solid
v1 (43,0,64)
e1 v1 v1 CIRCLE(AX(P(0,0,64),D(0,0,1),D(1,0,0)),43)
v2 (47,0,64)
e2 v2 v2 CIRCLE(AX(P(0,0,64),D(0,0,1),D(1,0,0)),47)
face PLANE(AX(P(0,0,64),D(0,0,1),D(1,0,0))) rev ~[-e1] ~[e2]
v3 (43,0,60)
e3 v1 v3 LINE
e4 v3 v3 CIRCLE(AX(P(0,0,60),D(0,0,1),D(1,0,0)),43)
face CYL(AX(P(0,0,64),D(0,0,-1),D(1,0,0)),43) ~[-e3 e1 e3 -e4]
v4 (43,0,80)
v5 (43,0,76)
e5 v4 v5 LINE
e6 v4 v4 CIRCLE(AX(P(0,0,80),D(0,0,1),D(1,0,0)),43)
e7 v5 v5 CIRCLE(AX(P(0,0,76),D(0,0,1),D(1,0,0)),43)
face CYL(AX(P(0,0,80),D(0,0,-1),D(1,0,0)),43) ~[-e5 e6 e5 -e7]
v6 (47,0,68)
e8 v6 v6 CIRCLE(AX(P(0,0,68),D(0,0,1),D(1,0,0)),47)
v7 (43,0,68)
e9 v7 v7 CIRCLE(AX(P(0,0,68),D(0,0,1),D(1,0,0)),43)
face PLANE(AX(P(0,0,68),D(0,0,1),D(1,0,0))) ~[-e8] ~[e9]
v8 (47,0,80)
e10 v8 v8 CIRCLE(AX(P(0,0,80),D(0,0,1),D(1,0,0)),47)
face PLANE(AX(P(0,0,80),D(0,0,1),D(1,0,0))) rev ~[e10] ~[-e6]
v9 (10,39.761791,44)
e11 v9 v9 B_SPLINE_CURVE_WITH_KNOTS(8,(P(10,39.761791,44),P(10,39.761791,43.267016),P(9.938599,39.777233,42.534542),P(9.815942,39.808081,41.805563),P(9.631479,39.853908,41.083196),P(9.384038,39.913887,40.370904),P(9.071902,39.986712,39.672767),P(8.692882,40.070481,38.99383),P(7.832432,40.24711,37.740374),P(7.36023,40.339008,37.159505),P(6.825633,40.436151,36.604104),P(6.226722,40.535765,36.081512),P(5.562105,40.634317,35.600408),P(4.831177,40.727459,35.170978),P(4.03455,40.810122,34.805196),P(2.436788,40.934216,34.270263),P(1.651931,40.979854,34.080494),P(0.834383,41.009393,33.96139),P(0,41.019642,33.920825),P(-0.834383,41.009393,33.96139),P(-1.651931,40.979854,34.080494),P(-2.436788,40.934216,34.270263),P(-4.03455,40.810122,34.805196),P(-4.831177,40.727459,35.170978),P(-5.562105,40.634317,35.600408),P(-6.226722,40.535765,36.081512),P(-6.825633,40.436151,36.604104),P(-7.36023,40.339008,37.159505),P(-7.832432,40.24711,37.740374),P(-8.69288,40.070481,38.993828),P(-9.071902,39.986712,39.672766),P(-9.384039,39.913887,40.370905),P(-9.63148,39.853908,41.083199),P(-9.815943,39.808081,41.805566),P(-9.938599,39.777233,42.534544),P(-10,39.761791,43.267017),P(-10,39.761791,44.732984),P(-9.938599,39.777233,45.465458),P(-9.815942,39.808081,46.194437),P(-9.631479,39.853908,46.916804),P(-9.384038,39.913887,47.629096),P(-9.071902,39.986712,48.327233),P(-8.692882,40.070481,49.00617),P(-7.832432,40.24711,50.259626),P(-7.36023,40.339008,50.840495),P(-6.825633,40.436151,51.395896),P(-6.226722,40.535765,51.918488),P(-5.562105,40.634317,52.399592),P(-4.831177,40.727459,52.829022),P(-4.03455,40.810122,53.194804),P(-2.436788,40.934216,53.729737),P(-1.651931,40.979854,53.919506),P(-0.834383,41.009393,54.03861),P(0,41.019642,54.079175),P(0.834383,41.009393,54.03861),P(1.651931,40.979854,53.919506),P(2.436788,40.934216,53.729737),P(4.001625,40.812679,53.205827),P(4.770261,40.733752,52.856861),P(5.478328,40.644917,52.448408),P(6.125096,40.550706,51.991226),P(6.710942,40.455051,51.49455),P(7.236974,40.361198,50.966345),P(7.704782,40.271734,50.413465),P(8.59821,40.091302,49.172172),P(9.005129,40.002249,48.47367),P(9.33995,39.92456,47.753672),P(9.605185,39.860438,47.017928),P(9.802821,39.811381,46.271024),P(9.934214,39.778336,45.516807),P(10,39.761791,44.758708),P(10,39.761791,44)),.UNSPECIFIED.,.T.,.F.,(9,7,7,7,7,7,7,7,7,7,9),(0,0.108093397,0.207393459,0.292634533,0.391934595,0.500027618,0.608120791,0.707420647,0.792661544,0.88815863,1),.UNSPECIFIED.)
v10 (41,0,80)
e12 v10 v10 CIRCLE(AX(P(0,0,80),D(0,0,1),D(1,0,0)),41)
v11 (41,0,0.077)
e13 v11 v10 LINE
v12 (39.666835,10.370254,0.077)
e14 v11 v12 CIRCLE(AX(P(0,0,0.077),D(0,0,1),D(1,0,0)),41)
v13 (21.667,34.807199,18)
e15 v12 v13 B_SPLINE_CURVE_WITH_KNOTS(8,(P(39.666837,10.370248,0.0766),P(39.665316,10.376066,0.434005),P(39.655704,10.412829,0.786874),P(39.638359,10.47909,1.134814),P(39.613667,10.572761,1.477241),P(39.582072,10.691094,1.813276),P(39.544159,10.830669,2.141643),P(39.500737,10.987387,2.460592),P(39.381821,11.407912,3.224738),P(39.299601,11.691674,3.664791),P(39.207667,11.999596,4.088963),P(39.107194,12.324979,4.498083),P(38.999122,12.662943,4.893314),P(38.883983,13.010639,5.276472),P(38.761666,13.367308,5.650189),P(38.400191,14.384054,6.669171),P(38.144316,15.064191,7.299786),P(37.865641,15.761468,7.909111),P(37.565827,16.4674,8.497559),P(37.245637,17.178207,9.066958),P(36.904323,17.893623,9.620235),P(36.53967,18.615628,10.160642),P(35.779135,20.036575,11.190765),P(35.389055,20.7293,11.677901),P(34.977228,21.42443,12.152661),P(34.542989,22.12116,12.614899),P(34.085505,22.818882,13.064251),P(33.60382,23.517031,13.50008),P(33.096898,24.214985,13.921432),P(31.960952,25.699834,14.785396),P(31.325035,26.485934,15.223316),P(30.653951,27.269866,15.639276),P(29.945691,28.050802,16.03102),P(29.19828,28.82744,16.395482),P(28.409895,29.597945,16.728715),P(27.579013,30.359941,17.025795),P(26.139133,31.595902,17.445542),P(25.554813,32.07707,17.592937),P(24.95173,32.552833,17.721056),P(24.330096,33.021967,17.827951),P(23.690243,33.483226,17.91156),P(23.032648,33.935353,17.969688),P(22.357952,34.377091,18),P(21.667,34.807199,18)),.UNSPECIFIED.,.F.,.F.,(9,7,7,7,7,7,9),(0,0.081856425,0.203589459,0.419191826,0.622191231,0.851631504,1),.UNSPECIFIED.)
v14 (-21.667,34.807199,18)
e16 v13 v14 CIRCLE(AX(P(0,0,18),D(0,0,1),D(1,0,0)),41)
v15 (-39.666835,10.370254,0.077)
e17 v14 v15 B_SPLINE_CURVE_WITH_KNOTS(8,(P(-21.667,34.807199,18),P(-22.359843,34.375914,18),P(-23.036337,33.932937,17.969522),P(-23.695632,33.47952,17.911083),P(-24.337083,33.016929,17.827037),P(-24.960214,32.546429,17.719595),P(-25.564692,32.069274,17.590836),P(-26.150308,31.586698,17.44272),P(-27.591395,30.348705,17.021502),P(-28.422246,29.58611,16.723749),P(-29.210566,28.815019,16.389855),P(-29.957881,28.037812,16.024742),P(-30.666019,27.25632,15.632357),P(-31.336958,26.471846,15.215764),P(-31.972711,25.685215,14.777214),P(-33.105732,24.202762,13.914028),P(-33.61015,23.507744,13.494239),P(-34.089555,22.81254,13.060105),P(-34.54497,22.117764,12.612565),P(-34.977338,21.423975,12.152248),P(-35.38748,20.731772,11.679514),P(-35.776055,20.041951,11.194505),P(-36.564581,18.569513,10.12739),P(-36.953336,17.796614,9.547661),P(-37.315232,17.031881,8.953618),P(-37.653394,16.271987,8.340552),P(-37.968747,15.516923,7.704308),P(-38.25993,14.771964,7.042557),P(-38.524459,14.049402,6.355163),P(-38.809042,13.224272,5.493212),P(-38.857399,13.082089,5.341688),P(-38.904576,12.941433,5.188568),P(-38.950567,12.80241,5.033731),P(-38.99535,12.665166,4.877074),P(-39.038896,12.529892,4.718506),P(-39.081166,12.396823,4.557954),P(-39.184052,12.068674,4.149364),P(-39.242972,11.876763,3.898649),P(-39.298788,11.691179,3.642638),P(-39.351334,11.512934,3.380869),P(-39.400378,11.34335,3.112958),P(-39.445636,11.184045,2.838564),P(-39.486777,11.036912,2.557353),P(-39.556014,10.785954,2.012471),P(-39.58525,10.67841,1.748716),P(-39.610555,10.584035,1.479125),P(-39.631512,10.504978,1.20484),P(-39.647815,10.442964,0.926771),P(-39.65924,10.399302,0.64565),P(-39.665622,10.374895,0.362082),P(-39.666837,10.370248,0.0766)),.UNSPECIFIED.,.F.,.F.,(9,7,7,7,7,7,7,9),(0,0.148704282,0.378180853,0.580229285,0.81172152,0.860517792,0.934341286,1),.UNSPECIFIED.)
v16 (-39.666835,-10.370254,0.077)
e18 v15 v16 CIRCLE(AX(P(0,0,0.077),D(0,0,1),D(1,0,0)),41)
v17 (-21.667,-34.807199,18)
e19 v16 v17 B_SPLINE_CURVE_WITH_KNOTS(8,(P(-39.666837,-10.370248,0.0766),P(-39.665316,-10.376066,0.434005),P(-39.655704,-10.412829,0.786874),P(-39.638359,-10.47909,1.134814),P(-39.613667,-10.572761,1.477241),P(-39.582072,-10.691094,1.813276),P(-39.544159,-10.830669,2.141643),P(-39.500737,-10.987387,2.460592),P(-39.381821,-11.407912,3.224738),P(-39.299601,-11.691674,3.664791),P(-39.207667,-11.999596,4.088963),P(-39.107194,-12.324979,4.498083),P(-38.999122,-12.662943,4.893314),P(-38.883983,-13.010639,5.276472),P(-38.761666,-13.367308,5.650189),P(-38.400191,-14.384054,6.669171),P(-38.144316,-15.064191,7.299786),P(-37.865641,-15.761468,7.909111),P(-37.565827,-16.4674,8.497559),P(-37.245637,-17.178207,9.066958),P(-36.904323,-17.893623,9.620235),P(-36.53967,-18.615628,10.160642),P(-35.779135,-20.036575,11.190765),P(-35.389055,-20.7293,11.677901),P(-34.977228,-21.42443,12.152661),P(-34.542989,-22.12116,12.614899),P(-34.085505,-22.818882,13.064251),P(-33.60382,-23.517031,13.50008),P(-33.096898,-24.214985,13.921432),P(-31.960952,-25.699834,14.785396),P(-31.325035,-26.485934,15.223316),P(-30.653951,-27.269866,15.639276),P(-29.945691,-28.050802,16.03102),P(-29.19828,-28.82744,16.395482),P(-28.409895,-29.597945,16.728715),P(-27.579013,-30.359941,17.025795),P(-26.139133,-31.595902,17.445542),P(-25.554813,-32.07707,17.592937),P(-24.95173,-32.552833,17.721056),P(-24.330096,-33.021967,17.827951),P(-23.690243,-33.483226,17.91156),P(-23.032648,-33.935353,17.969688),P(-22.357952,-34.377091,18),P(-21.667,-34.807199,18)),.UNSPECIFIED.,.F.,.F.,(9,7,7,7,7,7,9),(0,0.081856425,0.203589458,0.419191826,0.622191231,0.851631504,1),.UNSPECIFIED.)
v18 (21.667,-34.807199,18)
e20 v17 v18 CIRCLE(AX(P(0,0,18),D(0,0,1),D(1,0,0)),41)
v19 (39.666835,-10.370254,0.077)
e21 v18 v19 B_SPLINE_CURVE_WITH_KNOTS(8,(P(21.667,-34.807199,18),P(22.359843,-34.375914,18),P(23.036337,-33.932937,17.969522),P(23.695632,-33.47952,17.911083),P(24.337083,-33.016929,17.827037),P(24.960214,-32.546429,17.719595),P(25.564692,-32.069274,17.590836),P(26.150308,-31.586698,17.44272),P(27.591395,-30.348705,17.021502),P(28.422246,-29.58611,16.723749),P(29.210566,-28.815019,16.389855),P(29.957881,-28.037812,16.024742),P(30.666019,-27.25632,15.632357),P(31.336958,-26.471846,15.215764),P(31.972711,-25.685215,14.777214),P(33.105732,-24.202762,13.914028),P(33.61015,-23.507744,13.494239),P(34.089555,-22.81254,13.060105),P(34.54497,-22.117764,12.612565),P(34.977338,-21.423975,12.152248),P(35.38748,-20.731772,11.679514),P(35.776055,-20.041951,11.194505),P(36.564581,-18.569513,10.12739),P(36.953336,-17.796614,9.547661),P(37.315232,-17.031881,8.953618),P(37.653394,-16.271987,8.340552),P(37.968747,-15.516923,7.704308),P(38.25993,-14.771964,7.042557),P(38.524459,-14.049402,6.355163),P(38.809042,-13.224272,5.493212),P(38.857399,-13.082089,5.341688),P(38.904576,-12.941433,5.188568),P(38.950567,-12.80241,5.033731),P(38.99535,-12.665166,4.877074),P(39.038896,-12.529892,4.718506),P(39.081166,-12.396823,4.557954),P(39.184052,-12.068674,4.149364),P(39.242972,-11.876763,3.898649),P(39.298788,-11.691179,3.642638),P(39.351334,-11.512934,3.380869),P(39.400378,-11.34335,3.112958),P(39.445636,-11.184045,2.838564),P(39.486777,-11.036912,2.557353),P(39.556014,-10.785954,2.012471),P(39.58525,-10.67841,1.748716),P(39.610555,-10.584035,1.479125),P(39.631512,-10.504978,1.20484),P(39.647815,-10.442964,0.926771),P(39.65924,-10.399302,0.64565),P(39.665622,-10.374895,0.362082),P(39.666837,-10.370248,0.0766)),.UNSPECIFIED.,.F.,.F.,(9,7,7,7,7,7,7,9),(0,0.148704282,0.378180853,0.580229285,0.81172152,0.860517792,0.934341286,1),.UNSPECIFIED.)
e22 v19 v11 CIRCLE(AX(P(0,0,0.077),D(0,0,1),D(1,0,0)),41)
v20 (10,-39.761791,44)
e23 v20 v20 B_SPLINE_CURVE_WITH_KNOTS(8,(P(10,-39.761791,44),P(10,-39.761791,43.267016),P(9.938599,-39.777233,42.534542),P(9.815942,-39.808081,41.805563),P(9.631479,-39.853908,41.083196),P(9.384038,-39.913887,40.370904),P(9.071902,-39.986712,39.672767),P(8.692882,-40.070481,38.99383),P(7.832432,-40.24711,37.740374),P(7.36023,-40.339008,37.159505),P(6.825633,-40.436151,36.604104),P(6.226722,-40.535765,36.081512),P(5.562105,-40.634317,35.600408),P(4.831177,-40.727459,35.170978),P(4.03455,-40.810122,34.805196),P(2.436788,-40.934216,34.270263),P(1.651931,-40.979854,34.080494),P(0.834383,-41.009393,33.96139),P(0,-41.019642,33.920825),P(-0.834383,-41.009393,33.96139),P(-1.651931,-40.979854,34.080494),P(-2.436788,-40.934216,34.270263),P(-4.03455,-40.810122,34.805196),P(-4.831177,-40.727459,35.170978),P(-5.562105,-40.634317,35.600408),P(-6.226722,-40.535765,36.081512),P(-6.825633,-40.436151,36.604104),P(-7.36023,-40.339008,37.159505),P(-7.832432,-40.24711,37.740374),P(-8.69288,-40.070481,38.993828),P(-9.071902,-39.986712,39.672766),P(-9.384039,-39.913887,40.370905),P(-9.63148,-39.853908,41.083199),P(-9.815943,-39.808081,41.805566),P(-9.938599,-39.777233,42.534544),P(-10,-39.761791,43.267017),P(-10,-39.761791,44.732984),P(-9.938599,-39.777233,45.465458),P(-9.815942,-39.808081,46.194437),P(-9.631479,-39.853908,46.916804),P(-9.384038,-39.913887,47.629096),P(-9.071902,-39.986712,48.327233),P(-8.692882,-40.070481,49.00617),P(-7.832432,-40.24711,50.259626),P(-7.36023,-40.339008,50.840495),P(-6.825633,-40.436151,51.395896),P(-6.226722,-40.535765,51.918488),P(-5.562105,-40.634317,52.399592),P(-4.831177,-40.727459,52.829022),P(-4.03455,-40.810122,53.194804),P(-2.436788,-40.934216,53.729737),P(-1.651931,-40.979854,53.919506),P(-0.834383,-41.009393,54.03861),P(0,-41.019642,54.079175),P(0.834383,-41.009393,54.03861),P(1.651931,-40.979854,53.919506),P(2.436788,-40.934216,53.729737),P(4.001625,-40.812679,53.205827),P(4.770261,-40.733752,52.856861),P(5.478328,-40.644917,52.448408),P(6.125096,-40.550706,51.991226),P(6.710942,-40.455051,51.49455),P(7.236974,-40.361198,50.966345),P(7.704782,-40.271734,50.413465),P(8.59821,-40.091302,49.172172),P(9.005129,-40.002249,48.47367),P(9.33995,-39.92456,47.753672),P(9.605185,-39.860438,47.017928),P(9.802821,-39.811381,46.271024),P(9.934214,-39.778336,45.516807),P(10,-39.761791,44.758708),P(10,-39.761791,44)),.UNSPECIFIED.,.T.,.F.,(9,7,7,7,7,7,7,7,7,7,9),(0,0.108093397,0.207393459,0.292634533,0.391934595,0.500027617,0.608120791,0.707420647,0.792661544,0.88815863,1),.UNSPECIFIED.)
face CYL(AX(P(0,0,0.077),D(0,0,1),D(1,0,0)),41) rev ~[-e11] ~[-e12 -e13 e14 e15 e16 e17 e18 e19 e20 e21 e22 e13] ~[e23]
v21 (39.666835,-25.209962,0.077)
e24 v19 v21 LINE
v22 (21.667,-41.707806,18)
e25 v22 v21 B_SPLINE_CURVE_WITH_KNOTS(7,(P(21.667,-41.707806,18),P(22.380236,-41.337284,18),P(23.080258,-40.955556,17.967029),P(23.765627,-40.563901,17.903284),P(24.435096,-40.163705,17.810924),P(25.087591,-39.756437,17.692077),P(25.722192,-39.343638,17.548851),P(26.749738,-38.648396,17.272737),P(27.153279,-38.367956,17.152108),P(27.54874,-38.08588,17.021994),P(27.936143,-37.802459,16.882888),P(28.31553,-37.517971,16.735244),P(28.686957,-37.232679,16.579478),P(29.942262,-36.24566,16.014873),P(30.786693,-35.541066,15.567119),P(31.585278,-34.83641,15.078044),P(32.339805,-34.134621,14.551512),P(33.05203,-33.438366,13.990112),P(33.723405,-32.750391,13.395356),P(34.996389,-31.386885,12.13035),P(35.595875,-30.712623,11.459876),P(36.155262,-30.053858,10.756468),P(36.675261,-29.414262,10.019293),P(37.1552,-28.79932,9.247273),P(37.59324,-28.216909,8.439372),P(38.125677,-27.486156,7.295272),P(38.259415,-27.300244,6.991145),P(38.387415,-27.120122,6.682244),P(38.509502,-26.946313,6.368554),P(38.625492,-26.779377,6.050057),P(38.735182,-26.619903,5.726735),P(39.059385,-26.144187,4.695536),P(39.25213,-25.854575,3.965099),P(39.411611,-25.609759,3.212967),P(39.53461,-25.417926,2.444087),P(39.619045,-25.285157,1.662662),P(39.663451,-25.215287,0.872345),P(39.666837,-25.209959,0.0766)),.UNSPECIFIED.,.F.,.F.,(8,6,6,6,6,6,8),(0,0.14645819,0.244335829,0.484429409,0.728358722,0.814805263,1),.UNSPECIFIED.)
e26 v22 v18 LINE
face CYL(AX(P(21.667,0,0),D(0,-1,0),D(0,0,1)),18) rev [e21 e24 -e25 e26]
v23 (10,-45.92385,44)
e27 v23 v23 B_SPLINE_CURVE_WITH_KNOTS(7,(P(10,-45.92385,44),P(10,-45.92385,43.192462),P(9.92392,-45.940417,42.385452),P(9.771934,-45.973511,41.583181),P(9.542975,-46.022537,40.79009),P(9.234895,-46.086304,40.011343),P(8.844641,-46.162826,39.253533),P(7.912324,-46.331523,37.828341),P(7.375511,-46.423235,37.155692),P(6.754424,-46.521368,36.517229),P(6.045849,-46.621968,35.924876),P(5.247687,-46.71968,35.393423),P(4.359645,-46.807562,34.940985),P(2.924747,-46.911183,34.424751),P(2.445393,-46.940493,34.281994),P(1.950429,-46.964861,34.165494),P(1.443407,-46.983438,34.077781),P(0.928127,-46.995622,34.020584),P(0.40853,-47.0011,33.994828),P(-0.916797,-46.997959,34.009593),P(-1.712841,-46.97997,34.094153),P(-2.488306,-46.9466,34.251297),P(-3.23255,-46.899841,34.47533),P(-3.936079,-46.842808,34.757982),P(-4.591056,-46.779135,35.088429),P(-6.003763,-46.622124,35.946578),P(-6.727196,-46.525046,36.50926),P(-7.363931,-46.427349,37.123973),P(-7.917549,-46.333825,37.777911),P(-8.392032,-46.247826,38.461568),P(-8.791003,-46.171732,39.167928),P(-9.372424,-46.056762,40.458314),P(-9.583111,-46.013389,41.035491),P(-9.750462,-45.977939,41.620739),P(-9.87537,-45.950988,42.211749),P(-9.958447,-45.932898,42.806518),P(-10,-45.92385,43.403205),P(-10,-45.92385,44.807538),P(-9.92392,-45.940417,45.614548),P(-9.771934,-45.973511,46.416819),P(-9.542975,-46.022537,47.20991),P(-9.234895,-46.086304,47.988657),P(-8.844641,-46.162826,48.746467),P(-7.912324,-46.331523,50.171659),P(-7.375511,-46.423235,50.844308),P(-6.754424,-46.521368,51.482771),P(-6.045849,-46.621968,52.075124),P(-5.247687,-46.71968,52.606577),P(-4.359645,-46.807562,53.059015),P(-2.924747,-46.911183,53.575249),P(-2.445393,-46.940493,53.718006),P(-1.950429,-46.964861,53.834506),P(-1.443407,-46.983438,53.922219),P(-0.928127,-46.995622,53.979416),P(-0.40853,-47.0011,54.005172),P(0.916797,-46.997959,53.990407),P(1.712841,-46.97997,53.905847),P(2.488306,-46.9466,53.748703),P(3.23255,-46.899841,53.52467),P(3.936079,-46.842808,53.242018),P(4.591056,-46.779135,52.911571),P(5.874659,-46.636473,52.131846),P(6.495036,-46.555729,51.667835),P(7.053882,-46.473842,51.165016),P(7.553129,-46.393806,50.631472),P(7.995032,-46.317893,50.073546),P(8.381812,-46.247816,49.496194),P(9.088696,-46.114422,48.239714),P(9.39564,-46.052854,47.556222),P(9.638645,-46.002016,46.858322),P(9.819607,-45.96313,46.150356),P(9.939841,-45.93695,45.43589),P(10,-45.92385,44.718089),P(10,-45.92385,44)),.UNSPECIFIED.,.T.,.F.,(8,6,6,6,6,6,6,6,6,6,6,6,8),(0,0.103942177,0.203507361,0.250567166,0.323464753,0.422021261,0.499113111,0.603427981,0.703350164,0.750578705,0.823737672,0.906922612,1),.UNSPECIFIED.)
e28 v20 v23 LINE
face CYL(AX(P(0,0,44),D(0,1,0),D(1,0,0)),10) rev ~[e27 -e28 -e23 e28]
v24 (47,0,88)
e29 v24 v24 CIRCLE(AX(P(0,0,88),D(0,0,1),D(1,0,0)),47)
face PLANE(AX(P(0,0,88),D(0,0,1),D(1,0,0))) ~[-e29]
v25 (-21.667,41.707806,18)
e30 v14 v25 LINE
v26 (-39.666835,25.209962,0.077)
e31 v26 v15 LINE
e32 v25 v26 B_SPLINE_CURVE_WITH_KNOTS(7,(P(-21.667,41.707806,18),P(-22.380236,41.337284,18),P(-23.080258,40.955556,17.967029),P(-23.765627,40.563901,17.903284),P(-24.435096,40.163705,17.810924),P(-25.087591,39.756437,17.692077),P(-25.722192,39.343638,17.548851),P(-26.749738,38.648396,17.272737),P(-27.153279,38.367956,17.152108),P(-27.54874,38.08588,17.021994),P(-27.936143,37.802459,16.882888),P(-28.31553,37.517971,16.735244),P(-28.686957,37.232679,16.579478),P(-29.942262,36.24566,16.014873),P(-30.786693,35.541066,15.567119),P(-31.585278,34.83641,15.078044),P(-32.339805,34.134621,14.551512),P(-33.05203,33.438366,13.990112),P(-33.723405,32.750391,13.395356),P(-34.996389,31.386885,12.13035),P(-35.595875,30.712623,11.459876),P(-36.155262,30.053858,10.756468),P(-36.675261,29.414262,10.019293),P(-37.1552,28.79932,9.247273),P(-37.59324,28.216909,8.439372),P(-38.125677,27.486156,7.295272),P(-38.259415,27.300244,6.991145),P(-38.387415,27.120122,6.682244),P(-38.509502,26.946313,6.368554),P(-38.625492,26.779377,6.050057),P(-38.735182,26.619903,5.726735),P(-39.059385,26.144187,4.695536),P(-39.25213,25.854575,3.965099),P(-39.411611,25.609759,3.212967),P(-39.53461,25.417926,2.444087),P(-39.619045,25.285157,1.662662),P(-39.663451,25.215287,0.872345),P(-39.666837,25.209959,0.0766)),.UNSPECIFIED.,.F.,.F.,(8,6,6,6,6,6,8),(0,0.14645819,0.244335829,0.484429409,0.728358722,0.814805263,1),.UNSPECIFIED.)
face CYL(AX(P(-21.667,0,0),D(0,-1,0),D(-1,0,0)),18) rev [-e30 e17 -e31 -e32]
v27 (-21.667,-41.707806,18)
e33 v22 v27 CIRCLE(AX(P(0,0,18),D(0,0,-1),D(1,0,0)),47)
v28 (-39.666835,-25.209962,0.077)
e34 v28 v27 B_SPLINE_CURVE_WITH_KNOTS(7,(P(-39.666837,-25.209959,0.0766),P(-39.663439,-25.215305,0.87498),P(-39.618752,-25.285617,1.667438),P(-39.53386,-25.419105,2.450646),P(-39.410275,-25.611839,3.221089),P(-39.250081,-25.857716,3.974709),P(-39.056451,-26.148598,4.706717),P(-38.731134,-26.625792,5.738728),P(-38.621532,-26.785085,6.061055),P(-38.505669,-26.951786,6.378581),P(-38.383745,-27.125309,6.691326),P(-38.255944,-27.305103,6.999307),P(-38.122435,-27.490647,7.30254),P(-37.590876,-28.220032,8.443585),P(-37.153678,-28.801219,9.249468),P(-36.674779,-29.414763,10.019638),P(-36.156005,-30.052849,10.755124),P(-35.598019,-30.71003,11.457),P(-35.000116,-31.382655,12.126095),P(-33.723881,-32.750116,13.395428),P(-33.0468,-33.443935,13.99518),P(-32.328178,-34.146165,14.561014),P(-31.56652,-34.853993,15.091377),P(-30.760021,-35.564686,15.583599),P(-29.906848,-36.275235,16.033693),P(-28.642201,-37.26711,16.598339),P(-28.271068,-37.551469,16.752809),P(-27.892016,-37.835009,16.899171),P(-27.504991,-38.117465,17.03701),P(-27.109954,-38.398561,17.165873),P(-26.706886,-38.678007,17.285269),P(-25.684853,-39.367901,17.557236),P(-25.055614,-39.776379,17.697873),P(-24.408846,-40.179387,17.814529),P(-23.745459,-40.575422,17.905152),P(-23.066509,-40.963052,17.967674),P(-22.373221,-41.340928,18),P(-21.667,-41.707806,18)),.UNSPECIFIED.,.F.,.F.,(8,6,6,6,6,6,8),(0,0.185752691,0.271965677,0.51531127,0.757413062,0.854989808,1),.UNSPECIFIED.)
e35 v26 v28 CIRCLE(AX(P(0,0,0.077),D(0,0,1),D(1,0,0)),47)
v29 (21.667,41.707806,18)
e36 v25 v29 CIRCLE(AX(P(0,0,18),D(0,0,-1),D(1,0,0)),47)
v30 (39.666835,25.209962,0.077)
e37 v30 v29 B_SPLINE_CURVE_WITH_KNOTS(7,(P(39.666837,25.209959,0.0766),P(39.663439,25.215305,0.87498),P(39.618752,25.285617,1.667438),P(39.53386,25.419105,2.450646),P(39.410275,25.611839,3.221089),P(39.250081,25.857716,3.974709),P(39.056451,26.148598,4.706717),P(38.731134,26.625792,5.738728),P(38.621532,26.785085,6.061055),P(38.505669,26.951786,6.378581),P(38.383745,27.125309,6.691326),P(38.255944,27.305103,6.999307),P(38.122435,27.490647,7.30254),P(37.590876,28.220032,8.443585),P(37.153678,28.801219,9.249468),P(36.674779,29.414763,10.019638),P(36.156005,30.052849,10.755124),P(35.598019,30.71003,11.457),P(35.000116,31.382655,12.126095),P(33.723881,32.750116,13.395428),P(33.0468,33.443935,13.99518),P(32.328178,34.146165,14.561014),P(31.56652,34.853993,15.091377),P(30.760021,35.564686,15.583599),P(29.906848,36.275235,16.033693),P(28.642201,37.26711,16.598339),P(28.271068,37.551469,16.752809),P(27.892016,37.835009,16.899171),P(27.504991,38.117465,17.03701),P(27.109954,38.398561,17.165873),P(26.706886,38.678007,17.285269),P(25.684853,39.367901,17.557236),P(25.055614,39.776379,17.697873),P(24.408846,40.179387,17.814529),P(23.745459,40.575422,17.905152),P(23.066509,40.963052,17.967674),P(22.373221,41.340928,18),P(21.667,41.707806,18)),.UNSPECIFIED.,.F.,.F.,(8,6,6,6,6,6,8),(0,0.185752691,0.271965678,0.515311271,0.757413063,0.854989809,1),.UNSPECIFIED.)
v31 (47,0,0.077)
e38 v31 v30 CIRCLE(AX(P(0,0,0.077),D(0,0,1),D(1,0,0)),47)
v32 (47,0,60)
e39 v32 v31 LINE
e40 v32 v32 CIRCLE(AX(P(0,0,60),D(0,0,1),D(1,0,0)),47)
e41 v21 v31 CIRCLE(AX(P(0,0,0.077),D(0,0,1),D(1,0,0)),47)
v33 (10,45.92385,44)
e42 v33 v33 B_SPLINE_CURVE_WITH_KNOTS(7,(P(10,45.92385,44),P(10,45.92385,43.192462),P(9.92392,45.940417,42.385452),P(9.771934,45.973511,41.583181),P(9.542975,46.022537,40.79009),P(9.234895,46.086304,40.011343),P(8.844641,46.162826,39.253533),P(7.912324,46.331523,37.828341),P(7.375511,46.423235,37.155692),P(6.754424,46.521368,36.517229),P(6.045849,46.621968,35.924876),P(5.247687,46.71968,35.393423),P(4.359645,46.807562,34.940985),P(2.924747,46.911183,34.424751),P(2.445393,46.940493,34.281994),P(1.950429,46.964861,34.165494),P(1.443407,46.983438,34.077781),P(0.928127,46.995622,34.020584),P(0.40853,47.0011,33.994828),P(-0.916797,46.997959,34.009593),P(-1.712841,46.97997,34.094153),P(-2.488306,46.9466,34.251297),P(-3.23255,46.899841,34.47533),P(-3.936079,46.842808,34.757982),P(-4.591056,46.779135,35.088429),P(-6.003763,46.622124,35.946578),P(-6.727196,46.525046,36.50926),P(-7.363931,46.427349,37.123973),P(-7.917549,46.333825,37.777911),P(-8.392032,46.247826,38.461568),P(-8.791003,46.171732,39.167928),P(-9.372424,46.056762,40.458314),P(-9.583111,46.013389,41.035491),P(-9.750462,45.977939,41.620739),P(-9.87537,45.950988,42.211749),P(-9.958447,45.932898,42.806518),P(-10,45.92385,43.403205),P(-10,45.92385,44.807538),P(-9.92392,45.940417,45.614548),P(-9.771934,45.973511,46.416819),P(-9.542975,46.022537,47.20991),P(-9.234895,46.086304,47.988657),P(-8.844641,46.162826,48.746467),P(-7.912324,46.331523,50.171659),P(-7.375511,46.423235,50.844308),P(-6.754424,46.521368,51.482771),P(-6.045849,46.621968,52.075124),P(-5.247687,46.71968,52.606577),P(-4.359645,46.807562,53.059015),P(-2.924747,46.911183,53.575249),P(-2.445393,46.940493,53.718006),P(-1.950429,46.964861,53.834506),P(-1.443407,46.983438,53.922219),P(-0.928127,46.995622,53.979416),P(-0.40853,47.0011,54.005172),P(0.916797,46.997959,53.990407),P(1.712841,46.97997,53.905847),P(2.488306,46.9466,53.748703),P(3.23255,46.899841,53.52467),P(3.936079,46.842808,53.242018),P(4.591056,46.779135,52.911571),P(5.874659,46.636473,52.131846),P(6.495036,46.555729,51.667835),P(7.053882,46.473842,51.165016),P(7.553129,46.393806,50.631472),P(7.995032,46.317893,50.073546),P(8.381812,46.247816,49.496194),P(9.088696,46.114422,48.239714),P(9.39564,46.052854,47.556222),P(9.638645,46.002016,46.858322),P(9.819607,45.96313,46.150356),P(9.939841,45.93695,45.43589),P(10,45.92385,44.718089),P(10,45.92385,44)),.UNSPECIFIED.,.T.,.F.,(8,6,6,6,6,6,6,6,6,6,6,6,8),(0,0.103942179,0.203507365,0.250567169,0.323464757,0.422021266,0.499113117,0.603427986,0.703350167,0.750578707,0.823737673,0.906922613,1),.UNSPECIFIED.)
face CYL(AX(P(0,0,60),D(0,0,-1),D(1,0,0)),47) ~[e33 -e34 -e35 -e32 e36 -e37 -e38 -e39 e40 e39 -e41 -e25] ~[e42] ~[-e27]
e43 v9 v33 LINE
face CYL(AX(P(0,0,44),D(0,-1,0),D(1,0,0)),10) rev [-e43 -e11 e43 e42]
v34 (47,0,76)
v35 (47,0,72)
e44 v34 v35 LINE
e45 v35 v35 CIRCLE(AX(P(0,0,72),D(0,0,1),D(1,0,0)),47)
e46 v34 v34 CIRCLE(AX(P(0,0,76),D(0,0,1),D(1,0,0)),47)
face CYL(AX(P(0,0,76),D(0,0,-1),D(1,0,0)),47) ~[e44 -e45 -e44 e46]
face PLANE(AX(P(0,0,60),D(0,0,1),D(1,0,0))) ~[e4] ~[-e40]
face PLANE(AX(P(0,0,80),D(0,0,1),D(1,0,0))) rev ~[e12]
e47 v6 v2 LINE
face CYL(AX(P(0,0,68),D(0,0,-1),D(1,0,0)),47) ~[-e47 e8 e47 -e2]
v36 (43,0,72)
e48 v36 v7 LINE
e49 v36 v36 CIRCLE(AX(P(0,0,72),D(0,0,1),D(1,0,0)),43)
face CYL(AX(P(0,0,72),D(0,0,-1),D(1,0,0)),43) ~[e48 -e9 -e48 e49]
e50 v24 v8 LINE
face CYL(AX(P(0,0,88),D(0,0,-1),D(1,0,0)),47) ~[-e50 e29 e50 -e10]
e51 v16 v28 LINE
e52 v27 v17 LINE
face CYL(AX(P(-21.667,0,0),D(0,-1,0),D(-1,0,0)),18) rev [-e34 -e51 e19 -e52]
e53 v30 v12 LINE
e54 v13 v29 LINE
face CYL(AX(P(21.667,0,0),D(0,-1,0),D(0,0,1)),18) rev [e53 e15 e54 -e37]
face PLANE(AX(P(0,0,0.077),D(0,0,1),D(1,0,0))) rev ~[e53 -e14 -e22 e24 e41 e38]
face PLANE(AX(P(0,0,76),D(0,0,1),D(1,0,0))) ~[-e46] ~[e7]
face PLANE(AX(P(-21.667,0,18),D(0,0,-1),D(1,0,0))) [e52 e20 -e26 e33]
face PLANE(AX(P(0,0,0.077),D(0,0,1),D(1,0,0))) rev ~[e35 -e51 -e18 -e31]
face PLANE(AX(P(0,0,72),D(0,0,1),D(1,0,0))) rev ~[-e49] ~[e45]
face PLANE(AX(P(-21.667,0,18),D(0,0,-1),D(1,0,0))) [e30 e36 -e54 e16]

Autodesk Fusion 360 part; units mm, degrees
sketch "Sketch1" plane through (0, 0, 0) normal (0, 1, 0) x (1, 0, 0)
  line L0 (0, 0) -> (0, -88)
  line L1 (0, -88) -> (47, -88)
  line L2 (47, -88) -> (47, -80)
  line L3 (47, -80) -> (43, -80)
  line L4 (43, -80) -> (43, -76)
  line L5 (43, -76) -> (47, -76)
  line L6 (47, -76) -> (47, -72)
  line L7 (47, -72) -> (43, -72)
  line L8 (43, -72) -> (43, -68)
  line L9 (43, -68) -> (47, -68)
  line L10 (47, -68) -> (47, -64)
  line L11 (47, -64) -> (43, -64)
  line L12 (43, -64) -> (43, -60)
  line L13 (43, -60) -> (47, -60)
  line L14 (47, -60) -> (47, -0.077)
  line L15 (47, -0.077) -> (41, -0.077)
  line L16 (41, -0.077) -> (41, -80)
  line L17 (41, -80) -> (0, -80)
  dimension "d1" = 88
  dimension "d2" = 47
  dimension "d3" = 8
  dimension "d4" = 4
  dimension "d5" = 4
  dimension "d6" = 4
  dimension "d7" = 4
  dimension "d8" = 4
  dimension "d9" = 4
  dimension "d10" = 4
  dimension "d11" = 4
  dimension "d12" = 4
  dimension "d13" = 4
  dimension "d14" = 4
  dimension "d16" = 6
revolve "Revolve1" add sketch "Sketch1" angle 360 about axis through (0, 0, 0) along (0, 0, 1)
sketch "Sketch2" plane through (0, 0, 0) normal (0, 1, 0) x (1, 0, 0)
  line L0 (-46.9446, 0) -> (-39.667, 0)
  line L1 (-21.667, -18) -> (0, -18)
  line L2 (0, 0) -> (0, -37.5033) construction
  arc A0 (-39.667, 0) -> (-21.667, -18) centre (-21.667, 0) ccw
  line L3 (21.667, -18) -> (0, -18)
  arc A1 (21.667, -18) -> (39.667, 0) centre (21.667, 0) ccw
  circle A2 centre (0, -44) radius 10
  line L4 (-39.667, 0) -> (39.667, 0)
  point P0 (-39.667, -18)
  dimension "d17" = 18
  dimension "d18" = 18
  dimension "d19" = 20
  dimension "d20" = 44
extrude "Extrude1" cut sketch "Sketch2" along normal mid plane 180
